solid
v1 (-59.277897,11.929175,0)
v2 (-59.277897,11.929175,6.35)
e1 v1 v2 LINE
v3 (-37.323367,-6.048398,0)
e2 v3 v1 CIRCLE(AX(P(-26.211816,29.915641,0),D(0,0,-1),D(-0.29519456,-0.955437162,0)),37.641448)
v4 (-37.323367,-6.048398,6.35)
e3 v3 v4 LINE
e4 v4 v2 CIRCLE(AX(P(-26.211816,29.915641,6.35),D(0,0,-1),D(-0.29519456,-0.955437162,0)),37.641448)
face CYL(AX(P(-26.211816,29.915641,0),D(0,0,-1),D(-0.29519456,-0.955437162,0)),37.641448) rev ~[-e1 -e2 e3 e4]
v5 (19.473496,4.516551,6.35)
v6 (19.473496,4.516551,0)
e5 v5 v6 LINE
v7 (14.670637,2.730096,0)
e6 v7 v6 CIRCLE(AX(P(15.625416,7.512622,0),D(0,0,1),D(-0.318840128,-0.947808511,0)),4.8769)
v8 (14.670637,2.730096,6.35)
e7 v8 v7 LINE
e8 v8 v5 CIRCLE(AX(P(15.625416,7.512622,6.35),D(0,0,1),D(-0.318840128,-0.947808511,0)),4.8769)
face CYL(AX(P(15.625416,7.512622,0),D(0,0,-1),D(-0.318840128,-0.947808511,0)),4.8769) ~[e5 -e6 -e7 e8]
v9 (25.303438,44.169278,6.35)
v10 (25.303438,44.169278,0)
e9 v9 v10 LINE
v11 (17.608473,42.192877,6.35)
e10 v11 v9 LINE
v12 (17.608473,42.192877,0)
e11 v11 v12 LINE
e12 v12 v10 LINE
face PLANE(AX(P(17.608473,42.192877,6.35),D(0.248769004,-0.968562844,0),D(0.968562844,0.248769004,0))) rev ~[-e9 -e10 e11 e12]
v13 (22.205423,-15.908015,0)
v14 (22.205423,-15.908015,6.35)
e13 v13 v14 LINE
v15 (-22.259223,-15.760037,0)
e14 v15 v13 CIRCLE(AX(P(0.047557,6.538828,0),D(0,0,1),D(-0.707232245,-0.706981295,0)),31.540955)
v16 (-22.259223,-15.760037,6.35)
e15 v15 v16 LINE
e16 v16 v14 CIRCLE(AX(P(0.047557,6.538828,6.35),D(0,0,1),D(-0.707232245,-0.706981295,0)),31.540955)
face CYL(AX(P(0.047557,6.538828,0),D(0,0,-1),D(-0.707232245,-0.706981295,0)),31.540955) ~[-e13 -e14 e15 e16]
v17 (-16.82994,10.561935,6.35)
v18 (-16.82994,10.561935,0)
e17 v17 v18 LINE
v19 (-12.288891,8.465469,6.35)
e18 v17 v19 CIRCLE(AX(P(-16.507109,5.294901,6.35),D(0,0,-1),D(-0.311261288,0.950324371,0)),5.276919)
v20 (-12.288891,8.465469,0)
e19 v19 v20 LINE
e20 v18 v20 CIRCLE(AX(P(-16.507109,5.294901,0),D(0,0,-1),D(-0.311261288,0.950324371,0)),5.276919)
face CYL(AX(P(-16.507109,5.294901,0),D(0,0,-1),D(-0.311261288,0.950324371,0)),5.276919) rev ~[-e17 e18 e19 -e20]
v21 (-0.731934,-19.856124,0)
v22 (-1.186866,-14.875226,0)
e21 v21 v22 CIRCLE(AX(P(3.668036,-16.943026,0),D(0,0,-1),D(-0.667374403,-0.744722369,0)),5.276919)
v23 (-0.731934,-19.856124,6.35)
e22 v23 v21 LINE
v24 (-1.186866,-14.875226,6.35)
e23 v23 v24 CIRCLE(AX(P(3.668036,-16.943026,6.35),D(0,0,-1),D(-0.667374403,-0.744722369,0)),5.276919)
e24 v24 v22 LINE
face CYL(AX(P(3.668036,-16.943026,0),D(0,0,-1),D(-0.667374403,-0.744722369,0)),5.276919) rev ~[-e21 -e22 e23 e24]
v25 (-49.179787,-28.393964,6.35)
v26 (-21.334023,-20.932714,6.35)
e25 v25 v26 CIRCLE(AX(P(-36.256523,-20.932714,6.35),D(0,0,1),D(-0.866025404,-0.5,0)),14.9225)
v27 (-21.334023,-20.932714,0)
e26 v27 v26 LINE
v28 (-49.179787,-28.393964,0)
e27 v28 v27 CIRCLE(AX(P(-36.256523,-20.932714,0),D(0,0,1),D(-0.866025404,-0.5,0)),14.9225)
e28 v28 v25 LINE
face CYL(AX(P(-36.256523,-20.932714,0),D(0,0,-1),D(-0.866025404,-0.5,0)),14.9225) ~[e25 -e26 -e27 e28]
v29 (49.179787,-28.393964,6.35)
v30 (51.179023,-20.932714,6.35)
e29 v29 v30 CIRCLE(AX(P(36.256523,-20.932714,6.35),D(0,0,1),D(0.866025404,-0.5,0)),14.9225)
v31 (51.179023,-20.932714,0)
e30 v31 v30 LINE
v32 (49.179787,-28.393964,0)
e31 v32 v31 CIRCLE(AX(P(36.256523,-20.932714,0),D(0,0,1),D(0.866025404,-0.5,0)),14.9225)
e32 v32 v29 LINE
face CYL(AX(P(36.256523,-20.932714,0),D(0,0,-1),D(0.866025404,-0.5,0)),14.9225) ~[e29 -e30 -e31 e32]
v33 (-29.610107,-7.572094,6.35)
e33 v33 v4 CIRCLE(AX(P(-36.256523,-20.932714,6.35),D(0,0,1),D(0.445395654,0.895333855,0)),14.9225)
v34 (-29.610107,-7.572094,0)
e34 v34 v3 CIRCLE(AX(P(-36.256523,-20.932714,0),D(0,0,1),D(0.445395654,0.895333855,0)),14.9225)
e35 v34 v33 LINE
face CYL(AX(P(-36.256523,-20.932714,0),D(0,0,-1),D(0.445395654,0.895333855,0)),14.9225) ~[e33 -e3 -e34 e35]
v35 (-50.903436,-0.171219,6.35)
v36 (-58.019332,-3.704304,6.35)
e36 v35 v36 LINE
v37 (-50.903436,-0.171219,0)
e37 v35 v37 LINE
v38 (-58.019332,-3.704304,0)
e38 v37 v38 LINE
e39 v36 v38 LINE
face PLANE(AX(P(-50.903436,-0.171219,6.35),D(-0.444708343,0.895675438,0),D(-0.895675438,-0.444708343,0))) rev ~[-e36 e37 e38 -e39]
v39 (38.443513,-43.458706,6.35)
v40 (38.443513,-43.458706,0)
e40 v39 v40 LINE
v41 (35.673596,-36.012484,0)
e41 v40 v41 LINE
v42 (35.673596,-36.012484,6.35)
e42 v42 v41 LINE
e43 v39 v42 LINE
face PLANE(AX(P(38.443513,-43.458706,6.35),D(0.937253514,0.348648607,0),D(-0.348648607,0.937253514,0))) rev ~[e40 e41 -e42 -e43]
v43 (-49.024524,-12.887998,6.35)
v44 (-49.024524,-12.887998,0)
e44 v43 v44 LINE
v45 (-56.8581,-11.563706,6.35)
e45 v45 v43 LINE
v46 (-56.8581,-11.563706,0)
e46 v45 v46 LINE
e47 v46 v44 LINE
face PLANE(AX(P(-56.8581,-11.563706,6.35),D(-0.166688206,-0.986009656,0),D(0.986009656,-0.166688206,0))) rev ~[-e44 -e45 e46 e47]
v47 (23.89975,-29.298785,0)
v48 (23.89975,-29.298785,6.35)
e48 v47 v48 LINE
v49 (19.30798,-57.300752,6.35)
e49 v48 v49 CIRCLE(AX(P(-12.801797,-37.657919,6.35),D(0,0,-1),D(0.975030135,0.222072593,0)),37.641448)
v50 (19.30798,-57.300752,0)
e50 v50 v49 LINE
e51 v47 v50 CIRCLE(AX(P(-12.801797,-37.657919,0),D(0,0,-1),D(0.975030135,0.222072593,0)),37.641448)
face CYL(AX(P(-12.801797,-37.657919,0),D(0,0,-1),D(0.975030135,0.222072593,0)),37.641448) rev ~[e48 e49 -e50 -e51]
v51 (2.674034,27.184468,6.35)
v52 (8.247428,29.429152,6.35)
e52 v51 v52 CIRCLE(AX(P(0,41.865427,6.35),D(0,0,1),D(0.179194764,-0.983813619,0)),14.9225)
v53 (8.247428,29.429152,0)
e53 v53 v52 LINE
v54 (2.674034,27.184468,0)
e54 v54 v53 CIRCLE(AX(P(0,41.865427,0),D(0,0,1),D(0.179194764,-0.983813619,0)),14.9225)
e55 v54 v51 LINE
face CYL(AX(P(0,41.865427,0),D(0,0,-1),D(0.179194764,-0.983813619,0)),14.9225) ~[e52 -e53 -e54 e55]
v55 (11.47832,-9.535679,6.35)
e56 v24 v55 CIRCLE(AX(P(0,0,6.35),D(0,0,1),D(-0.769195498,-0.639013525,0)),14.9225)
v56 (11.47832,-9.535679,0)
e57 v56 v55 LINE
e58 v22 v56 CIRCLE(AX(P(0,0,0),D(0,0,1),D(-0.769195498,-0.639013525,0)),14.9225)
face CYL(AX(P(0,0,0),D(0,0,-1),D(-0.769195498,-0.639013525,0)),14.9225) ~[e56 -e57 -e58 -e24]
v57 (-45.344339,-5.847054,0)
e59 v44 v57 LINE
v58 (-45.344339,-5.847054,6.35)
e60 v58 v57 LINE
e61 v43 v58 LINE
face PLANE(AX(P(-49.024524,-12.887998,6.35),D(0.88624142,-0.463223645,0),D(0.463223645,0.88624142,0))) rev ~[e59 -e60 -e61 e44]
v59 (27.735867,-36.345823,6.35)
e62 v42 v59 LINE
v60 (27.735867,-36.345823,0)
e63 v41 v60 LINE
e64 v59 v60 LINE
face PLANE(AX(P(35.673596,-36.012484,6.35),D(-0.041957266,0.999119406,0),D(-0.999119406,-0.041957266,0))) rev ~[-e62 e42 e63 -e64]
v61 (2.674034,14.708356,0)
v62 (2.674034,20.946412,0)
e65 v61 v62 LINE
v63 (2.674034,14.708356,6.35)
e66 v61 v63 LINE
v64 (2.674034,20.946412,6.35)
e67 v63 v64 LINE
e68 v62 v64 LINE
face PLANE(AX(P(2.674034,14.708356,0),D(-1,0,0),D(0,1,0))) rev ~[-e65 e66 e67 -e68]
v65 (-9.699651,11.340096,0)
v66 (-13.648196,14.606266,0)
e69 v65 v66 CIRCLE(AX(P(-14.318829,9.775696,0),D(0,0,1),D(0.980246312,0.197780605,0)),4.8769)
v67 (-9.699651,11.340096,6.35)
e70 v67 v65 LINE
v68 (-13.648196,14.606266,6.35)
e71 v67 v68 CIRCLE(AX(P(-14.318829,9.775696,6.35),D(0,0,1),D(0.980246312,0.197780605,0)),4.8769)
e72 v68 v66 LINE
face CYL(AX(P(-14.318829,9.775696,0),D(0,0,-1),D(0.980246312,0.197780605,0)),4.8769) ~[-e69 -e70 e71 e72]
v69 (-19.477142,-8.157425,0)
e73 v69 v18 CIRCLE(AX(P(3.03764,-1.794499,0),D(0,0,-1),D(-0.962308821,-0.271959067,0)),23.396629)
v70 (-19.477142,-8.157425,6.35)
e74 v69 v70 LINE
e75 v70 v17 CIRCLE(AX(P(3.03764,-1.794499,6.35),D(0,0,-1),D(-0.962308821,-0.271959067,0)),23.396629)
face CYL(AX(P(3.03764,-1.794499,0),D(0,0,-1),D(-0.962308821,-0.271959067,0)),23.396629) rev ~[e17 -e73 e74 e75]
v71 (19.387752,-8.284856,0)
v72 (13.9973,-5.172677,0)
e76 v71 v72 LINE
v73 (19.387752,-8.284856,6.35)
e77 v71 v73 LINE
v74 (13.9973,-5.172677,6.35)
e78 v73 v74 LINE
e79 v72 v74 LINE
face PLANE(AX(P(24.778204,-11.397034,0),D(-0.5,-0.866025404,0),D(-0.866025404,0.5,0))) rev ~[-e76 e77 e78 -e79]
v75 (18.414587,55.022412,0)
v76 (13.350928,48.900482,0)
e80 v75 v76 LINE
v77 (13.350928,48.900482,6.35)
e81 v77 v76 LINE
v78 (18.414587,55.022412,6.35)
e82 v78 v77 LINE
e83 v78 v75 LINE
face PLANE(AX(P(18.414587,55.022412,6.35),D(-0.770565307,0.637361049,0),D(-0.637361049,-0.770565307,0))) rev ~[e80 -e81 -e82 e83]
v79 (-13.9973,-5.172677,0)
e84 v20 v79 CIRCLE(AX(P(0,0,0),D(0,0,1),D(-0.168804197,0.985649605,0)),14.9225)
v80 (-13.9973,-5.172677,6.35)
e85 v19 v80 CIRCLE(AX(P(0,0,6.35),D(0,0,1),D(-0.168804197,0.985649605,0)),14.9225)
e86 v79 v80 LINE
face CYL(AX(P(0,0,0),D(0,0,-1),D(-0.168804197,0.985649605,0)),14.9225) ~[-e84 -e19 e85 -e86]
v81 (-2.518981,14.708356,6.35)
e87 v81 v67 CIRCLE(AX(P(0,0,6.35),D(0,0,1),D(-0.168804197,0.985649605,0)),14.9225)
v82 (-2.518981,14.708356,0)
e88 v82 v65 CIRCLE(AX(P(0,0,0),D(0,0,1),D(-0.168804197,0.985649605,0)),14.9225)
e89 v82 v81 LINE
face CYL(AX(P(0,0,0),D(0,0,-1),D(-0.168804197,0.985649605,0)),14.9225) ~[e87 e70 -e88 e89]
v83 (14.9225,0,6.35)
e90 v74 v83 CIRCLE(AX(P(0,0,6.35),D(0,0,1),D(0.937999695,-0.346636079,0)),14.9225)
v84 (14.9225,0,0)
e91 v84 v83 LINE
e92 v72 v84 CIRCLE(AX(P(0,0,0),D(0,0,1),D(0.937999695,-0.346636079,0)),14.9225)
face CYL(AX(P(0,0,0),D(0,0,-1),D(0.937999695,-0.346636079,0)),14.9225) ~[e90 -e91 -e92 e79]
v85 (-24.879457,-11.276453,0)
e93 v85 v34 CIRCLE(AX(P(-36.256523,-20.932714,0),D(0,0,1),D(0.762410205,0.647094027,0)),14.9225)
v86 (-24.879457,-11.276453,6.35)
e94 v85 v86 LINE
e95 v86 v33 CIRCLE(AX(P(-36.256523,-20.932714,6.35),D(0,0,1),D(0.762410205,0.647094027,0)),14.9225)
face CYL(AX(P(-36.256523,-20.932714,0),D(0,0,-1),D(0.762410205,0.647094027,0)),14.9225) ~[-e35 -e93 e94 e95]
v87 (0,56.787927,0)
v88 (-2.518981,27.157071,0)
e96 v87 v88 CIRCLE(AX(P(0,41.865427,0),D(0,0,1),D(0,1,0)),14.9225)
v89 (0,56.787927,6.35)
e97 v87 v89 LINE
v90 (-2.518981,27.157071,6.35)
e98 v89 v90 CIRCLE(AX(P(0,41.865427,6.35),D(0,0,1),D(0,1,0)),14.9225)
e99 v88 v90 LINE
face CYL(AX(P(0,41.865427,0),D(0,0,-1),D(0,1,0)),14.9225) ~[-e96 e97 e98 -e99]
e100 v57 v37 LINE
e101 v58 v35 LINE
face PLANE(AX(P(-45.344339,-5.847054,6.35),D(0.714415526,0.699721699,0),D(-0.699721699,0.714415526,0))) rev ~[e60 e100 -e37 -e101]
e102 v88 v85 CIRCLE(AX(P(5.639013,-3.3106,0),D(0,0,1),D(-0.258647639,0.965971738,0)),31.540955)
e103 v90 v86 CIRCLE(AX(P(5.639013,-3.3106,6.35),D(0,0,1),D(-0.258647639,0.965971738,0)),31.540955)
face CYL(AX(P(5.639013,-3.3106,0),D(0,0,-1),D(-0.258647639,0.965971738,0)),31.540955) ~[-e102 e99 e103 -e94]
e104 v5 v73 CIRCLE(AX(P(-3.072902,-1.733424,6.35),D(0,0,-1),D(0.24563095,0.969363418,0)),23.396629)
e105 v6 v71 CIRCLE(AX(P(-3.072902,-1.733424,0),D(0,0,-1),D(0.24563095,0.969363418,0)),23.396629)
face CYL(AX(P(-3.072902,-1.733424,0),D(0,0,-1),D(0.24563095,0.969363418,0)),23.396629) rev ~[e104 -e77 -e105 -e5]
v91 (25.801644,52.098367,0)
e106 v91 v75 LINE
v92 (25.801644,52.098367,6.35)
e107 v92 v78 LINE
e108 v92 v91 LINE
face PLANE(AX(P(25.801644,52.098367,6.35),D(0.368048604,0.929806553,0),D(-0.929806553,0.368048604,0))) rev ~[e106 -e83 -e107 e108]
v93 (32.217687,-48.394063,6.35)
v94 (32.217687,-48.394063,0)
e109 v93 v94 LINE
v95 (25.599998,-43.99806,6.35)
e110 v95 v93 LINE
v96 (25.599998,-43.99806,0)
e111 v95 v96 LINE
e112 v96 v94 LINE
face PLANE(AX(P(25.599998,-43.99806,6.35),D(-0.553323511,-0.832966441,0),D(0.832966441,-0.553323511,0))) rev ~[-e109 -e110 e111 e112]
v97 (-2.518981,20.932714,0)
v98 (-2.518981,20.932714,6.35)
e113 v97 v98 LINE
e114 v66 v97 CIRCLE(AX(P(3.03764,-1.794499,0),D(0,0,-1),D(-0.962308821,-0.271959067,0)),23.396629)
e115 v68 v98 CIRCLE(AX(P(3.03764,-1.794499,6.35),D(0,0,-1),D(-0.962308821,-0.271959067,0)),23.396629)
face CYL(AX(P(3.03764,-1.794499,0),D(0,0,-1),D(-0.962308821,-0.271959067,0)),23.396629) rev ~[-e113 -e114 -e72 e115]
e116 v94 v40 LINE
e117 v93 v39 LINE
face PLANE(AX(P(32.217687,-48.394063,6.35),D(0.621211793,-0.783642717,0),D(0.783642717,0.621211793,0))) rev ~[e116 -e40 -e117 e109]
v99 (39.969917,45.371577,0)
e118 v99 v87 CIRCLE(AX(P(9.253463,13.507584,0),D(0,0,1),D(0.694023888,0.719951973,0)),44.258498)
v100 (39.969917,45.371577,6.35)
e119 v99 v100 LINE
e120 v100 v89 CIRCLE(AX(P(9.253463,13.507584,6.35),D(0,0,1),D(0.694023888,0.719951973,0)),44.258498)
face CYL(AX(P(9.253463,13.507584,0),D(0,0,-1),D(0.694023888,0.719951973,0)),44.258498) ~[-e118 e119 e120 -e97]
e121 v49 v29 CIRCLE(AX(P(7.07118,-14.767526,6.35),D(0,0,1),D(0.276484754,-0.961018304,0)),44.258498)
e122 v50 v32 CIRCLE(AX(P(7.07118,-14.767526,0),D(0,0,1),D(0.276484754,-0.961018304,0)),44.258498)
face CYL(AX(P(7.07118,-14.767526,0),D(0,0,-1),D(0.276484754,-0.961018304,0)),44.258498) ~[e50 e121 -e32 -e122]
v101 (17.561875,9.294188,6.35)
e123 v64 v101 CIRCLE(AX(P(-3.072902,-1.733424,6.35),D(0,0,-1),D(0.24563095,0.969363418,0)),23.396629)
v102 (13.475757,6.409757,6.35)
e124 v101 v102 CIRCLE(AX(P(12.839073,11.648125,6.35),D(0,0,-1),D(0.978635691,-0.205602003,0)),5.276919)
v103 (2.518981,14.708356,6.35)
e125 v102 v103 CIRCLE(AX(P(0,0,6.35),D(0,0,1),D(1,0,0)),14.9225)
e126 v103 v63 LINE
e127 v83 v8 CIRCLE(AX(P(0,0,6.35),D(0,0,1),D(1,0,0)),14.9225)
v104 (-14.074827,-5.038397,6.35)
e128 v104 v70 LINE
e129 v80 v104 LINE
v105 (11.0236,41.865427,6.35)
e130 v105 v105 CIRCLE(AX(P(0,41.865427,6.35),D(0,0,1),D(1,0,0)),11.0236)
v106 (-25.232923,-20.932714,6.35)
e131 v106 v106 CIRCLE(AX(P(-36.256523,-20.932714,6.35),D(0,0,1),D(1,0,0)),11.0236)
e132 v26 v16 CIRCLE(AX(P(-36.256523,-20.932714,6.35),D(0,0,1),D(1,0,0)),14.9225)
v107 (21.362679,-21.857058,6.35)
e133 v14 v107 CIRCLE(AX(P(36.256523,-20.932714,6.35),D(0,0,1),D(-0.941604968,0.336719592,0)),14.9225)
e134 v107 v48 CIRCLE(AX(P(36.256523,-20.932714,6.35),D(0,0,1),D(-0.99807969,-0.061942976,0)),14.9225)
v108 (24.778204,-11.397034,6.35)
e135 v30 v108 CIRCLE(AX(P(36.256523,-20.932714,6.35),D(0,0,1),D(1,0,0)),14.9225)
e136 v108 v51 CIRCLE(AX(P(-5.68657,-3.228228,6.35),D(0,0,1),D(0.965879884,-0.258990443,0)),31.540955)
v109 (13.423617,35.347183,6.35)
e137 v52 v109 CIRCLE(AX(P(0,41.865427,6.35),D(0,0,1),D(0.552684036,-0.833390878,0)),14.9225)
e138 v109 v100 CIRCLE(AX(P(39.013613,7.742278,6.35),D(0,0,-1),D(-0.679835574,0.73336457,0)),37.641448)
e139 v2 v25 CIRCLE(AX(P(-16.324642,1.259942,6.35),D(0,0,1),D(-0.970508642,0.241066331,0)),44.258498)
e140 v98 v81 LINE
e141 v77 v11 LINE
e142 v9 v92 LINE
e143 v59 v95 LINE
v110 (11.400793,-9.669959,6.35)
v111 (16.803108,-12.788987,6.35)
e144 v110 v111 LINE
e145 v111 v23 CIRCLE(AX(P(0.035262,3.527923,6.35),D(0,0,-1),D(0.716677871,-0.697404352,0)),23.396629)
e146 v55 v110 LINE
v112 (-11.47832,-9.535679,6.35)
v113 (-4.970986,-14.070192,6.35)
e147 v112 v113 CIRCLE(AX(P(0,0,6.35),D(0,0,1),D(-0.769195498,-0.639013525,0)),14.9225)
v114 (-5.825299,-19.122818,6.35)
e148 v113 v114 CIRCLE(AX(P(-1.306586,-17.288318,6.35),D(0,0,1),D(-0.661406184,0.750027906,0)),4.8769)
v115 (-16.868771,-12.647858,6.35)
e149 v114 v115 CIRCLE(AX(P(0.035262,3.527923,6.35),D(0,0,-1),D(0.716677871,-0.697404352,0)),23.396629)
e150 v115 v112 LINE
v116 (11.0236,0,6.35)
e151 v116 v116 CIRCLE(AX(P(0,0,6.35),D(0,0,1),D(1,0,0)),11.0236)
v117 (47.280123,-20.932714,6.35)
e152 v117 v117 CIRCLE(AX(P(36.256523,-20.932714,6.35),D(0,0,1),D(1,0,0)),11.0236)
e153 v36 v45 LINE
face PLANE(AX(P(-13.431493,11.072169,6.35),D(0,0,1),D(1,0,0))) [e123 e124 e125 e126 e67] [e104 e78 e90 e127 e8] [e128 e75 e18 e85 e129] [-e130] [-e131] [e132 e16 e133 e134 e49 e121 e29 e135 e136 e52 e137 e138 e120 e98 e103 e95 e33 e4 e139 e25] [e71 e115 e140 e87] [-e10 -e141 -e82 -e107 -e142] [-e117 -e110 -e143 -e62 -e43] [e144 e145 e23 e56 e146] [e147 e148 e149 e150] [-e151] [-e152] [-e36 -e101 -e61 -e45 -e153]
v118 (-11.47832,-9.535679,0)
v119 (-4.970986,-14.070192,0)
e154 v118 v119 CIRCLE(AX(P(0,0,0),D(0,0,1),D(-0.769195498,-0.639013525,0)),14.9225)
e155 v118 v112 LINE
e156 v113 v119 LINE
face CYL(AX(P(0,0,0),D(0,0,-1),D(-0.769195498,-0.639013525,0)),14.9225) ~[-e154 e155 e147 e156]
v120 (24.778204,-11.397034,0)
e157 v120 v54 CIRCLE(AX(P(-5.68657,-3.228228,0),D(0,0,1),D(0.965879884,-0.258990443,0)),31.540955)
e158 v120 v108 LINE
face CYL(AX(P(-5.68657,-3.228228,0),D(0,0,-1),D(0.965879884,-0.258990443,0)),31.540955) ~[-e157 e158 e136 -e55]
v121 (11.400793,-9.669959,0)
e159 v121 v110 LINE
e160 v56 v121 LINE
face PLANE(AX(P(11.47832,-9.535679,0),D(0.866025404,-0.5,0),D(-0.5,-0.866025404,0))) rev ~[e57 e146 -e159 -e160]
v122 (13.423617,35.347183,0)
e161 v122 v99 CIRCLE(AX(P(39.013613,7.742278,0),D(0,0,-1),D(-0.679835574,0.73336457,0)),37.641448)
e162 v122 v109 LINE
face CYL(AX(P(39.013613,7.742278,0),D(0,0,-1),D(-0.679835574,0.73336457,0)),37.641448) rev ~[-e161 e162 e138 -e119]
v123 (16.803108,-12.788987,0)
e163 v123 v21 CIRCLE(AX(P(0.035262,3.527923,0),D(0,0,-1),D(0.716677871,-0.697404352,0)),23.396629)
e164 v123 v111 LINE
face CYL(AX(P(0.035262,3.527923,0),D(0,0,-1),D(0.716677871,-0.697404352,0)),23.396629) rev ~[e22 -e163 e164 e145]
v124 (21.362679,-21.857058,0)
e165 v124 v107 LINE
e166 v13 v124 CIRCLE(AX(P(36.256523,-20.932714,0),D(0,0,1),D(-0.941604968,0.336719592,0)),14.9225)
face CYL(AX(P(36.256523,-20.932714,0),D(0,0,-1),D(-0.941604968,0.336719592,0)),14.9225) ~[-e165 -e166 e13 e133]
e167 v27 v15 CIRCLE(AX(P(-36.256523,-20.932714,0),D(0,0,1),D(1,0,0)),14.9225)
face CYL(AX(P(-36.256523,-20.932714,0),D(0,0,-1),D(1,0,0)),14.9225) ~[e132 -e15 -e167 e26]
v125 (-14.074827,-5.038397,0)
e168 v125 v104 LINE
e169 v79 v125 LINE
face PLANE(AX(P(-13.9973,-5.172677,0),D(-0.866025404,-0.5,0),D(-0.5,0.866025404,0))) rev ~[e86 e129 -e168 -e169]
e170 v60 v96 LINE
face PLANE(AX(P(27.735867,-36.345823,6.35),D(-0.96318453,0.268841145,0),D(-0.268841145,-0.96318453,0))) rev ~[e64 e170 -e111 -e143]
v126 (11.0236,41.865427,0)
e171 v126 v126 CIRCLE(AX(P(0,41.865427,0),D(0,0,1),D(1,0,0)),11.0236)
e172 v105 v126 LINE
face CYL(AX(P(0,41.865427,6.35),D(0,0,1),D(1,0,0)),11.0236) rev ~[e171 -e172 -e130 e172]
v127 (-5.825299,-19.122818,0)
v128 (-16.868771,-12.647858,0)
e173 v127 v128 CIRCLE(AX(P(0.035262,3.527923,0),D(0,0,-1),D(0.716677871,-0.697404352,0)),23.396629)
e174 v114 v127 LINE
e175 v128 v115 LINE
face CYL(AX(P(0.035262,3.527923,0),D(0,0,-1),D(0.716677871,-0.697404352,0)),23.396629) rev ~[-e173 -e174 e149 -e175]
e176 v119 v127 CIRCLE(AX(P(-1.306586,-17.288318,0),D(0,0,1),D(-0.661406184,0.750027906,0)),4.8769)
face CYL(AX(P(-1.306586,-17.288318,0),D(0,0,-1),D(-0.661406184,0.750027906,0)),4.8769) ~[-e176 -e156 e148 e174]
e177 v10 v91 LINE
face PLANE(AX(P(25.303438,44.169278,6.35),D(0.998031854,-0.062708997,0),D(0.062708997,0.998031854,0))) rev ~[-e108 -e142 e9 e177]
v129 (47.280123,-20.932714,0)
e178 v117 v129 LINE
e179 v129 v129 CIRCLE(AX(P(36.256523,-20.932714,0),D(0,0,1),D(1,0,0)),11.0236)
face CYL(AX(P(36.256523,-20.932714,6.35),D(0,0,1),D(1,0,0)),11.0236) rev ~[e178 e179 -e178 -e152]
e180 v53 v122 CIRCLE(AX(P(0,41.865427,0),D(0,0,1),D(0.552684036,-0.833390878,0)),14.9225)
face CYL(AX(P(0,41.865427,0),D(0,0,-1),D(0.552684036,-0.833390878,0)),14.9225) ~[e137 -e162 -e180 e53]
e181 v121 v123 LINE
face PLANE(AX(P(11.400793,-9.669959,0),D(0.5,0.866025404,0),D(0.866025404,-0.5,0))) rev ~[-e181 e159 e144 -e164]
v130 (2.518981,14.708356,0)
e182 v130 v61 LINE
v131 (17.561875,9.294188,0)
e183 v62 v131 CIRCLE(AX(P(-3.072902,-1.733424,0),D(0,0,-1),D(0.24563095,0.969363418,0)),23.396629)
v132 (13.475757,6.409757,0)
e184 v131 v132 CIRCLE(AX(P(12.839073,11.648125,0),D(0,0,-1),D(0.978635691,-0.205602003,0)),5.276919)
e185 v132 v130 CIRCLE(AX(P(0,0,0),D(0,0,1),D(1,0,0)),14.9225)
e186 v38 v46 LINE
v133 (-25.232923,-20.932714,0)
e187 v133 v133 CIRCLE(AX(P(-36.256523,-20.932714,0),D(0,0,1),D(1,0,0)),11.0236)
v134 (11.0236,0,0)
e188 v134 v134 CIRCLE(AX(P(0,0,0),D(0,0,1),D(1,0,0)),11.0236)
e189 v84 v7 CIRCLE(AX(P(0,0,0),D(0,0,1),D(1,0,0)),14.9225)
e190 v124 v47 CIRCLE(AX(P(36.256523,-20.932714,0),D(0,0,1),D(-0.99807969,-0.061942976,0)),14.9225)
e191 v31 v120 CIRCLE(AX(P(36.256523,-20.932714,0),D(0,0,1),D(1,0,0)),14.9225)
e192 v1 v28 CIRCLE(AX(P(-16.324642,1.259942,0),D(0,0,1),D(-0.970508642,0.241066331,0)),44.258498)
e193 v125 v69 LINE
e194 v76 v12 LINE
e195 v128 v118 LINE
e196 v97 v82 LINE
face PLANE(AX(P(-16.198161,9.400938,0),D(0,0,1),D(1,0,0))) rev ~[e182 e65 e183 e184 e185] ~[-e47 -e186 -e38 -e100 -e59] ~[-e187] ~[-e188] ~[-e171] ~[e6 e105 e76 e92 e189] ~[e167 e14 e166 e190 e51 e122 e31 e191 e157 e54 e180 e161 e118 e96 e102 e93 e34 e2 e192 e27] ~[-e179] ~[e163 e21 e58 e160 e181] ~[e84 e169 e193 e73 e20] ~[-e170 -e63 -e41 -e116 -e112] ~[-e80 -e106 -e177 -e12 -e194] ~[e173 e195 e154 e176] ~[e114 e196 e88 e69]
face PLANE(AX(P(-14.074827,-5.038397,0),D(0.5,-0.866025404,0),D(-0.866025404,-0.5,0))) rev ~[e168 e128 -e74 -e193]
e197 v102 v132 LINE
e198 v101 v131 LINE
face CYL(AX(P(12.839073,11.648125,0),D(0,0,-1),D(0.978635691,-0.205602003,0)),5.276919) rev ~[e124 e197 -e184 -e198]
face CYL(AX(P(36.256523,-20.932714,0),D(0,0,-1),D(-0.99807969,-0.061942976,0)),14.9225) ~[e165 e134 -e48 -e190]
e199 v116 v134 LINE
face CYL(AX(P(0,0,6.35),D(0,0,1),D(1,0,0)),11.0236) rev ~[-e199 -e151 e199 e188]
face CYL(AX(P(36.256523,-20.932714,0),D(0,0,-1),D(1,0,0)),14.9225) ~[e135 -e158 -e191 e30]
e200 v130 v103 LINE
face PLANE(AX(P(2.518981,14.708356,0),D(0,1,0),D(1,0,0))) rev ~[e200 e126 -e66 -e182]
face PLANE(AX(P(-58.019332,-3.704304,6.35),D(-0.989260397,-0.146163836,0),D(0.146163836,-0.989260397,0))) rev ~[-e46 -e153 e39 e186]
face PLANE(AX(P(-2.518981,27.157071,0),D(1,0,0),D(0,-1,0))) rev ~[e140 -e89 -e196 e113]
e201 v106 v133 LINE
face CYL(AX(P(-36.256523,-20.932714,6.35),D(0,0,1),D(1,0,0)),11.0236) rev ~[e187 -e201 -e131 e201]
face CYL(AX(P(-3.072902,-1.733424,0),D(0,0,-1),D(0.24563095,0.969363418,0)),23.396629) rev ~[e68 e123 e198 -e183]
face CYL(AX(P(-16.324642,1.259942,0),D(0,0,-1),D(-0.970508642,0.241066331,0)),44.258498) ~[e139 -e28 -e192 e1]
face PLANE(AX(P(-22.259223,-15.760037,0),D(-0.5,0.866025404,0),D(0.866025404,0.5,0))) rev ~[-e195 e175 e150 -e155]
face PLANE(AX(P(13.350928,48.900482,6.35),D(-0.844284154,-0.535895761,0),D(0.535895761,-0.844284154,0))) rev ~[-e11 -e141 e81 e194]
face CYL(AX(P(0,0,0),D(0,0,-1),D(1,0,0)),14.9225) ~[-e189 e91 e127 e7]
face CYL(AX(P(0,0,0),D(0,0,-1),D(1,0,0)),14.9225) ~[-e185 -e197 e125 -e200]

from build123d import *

# Parameters (mm, degrees)
F1_DEPTH  = 6.35
F2_R      = 11.0236
F3_DEPTH  = 25.4
F4_R      = 11.0236
F5_DEPTH  = 25.4
F7_DEPTH  = 6.35
F9_DEPTH  = 6.35
F11_DEPTH = 25.4


with BuildPart() as f1:
    # F0 (on Top) → F1 (new body)
    with BuildSketch(Plane.XY):
        with BuildLine():
            ThreePointArc((39.9699173868, 45.3715771437), (21.4086371945, 56.0642096985), (0, 56.787927047))
            ThreePointArc((0, 56.787927047), (10.5518009423, 52.4172279893), (14.9225, 41.865427047))
            ThreePointArc((14.9225, 41.865427047), (14.5429525108, 38.5212472494), (13.4236173036, 35.3471830552))
            ThreePointArc((13.4236173036, 35.3471830552), (25.7159889241, 42.956648129), (39.9699173868, 45.3715771437))
        make_face()
        with BuildLine():
            Line((11.4783198204, -9.5356793335), (13.9973004553, -5.1726768904))
            ThreePointArc((13.9973004553, -5.1726768904), (14.6893791954, -2.6273836992), (14.9225, 0))
            ThreePointArc((14.9225, 0), (11.4076836995, 9.6200706267), (2.518980635, 14.7083562239))
            Line((2.518980635, 14.7083562239), (-2.518980635, 14.7083562239))
            ThreePointArc((-2.518980635, 14.7083562239), (-12.923264088, 7.46125), (-13.9973004553, -5.1726768904))
            Line((-13.9973004553, -5.1726768904), (-11.4783198204, -9.5356793335))
            ThreePointArc((-11.4783198204, -9.5356793335), (0, -14.9225), (11.4783198204, -9.5356793335))
        make_face()
        with BuildLine():
            ThreePointArc((-59.2778971096, 11.9291752723), (-59.2573484392, -9.4916811784), (-49.179787451, -28.3939635235))
            ThreePointArc((-49.179787451, -28.3939635235), (-49.4383993618, -13.9384908074), (-37.3233671298, -6.048397932))
            ThreePointArc((-37.3233671298, -6.048397932), (-50.0595430032, 0.7923756272), (-59.2778971096, 11.9291752723))
        make_face()
        with BuildLine():
            Line((24.7782035426, -11.39703419), (13.9973004553, -5.1726768904))
            ThreePointArc((13.9973004553, -5.1726768904), (12.923264088, -7.46125), (11.4783198204, -9.5356793335))
            Line((11.4783198204, -9.5356793335), (11.4007932052, -9.6699593699))
            Line((11.4007932052, -9.6699593699), (22.205423221, -15.9080154181))
            ThreePointArc((22.205423221, -15.9080154181), (23.2940753375, -13.5397474451), (24.7782035426, -11.39703419))
        make_face()
        with BuildLine():
            ThreePointArc((-2.518980635, 14.7083562239), (0, 14.9225), (2.518980635, 14.7083562239))
            Line((2.518980635, 14.7083562239), (2.6740338653, 14.7083562239))
            Line((2.6740338653, 14.7083562239), (2.6740338653, 27.1844683202))
            ThreePointArc((2.6740338653, 27.1844683202), (0.0787275795, 26.9431347225), (-2.518980635, 27.1570708231))
            Line((-2.518980635, 27.1570708231), (-2.518980635, 14.7083562239))
        make_face()
        with BuildLine():
            Line((-22.2592229077, -15.7600366331), (-11.4783198204, -9.5356793335))
            ThreePointArc((-11.4783198204, -9.5356793335), (-12.923264088, -7.46125), (-13.9973004553, -5.1726768904))
            Line((-13.9973004553, -5.1726768904), (-14.0748270705, -5.038396854))
            Line((-14.0748270705, -5.038396854), (-24.8794570864, -11.2764529022))
            ThreePointArc((-24.8794570864, -11.2764529022), (-23.372802917, -13.4033872774), (-22.2592229077, -15.7600366331))
        make_face()
        with BuildLine():
            ThreePointArc((0, 56.787927047), (-14.8688676772, 43.1294603729), (-2.518980635, 27.1570708231))
            Line((-2.518980635, 27.1570708231), (-2.518980635, 27.4083562239))
            Line((-2.518980635, 27.4083562239), (2.6740338653, 27.4083562239))
            Line((2.6740338653, 27.4083562239), (2.6740338653, 27.1844683202))
            ThreePointArc((2.6740338653, 27.1844683202), (5.574874939, 28.0233977281), (8.2474275307, 29.429151665))
            ThreePointArc((8.2474275307, 29.429151665), (10.6805834625, 32.5236842879), (13.4236173036, 35.3471830552))
            ThreePointArc((13.4236173036, 35.3471830552), (14.5429525108, 38.5212472494), (14.9225, 41.865427047))
            ThreePointArc((14.9225, 41.865427047), (10.5518009423, 52.4172279893), (0, 56.787927047))
        make_face()
        with BuildLine():
            ThreePointArc((19.3079797228, -57.3007524159), (37.8487112447, -46.5725285201), (49.179787451, -28.3939635235))
            ThreePointArc((49.179787451, -28.3939635235), (36.7902868106, -35.845664366), (23.8997498262, -29.2987851232))
            ThreePointArc((23.8997498262, -29.2987851232), (24.3435540791, -43.7490237562), (19.3079797228, -57.3007524159))
        make_face()
        with BuildLine():
            ThreePointArc((-21.334023363, -20.9327135235), (-21.5671441676, -18.3053298244), (-22.2592229077, -15.7600366331))
            Line((-22.2592229077, -15.7600366331), (-22.4768424484, -15.8856793335))
            Line((-22.4768424484, -15.8856793335), (-25.0733496986, -11.388396854))
            Line((-25.0733496986, -11.388396854), (-24.8794570864, -11.2764529022))
            ThreePointArc((-24.8794570864, -11.2764529022), (-27.0564118024, -9.183715544), (-29.6101067191, -7.5720940751))
            ThreePointArc((-29.6101067191, -7.5720940751), (-33.5066285492, -7.0121855382), (-37.3233671298, -6.048397932))
            ThreePointArc((-37.3233671298, -6.048397932), (-49.4383993618, -13.9384908074), (-49.179787451, -28.3939635235))
            ThreePointArc((-49.179787451, -28.3939635235), (-32.3942961625, -35.3467416663), (-21.334023363, -20.9327135235))
        make_face()
        with BuildLine():
            ThreePointArc((51.179023363, -20.9327135235), (41.3258319318, -6.8976461249), (24.7782035426, -11.39703419))
            Line((24.7782035426, -11.39703419), (24.9958230834, -11.5226768904))
            Line((24.9958230834, -11.5226768904), (22.3993158332, -16.0199593699))
            Line((22.3993158332, -16.0199593699), (22.205423221, -15.9080154181))
            ThreePointArc((22.205423221, -15.9080154181), (21.4815368634, -18.8396821842), (21.3626791884, -21.8570575899))
            ThreePointArc((21.3626791884, -21.8570575899), (22.8260450868, -25.5114987497), (23.8997498262, -29.2987851232))
            ThreePointArc((23.8997498262, -29.2987851232), (36.7902868106, -35.845664366), (49.179787451, -28.3939635235))
            ThreePointArc((49.179787451, -28.3939635235), (50.6705515058, -24.794940724), (51.179023363, -20.9327135235))
        make_face()
        with BuildLine():
            ThreePointArc((13.4236173036, 35.3471830552), (10.6805834625, 32.5236842879), (8.2474275307, 29.429151665))
            ThreePointArc((8.2474275307, 29.429151665), (11.2322891672, 32.0411364205), (13.4236173036, 35.3471830552))
        make_face()
        with BuildLine():
            ThreePointArc((-37.3233671298, -6.048397932), (-33.5066285492, -7.0121855382), (-29.6101067191, -7.5720940751))
            ThreePointArc((-29.6101067191, -7.5720940751), (-33.3645826899, -6.2931204488), (-37.3233671298, -6.048397932))
        make_face()
        with BuildLine():
            ThreePointArc((23.8997498262, -29.2987851232), (22.8260450868, -25.5114987497), (21.3626791884, -21.8570575899))
            ThreePointArc((21.3626791884, -21.8570575899), (22.1322935227, -25.7480159717), (23.8997498262, -29.2987851232))
        make_face()
        with BuildLine():
            Line((24.9958230834, -11.5226768904), (24.7782035426, -11.39703419))
            ThreePointArc((24.7782035426, -11.39703419), (23.2940753375, -13.5397474451), (22.205423221, -15.9080154181))
            Line((22.205423221, -15.9080154181), (22.3993158332, -16.0199593699))
            Line((22.3993158332, -16.0199593699), (24.9958230834, -11.5226768904))
        make_face()
        with BuildLine():
            Line((-22.4768424484, -15.8856793335), (-22.2592229077, -15.7600366331))
            ThreePointArc((-22.2592229077, -15.7600366331), (-23.372802917, -13.4033872774), (-24.8794570864, -11.2764529022))
            Line((-24.8794570864, -11.2764529022), (-25.0733496986, -11.388396854))
            Line((-25.0733496986, -11.388396854), (-22.4768424484, -15.8856793335))
        make_face()
        with BuildLine():
            Line((-2.518980635, 14.7083562239), (2.518980635, 14.7083562239))
            ThreePointArc((2.518980635, 14.7083562239), (0, 14.9225), (-2.518980635, 14.7083562239))
        make_face()
        with BuildLine():
            ThreePointArc((-13.9973004553, -5.1726768904), (-12.923264088, -7.46125), (-11.4783198204, -9.5356793335))
            Line((-11.4783198204, -9.5356793335), (-13.9973004553, -5.1726768904))
        make_face()
        with BuildLine():
            Line((-2.518980635, 27.4083562239), (-2.518980635, 27.1570708231))
            ThreePointArc((-2.518980635, 27.1570708231), (0.0787275795, 26.9431347225), (2.6740338653, 27.1844683202))
            Line((2.6740338653, 27.1844683202), (2.6740338653, 27.4083562239))
            Line((2.6740338653, 27.4083562239), (-2.518980635, 27.4083562239))
        make_face()
        with BuildLine():
            ThreePointArc((11.4783198204, -9.5356793335), (12.923264088, -7.46125), (13.9973004553, -5.1726768904))
            Line((13.9973004553, -5.1726768904), (11.4783198204, -9.5356793335))
        make_face()
    extrude(amount=F1_DEPTH)

    # F2 (on face) → F3 (cut)
    with BuildSketch(Plane.XY.offset(6.35)):
        with Locations((0, 41.865427047)):
            Circle(F2_R)
        with Locations((36.256523363, -20.9327135235)):
            Circle(F2_R)
        with Locations((-36.256523363, -20.9327135235)):
            Circle(F2_R)
    extrude(amount=-F3_DEPTH, mode=Mode.SUBTRACT)

    # F4 (on face) → F5 (cut)
    with BuildSketch(Plane.XY.offset(6.35)):
        Circle(F4_R)
    extrude(amount=-F5_DEPTH, mode=Mode.SUBTRACT)

    # F6 (on Top) → F7 (join)
    with BuildSketch(Plane.XY):
        with BuildLine():
            Line((-2.518980635, 20.9327135235), (-2.518980635, 27.1570708231))
            ThreePointArc((-2.518980635, 27.1570708231), (-21.6236198706, 12.5506950245), (-24.8794570864, -11.2764529022))
            Line((-24.8794570864, -11.2764529022), (-19.4771420784, -8.1574248781))
            ThreePointArc((-19.4771420784, -8.1574248781), (-17.1752258506, 9.9886362226), (-2.518980635, 20.9327135235))
        make_face()
        with BuildLine():
            ThreePointArc((2.6740338653, 20.9464122721), (17.2380256432, 9.8798637911), (19.387751999, -8.2848555402))
            Line((19.387751999, -8.2848555402), (24.7782035426, -11.39703419))
            ThreePointArc((24.7782035426, -11.39703419), (21.6810306616, 12.4512566175), (2.6740338653, 27.1844683202))
            Line((2.6740338653, 27.1844683202), (2.6740338653, 20.9464122721))
        make_face()
        with BuildLine():
            ThreePointArc((16.8031082131, -12.788987394), (-0.0627997926, -19.8685000137), (-16.868771364, -12.6478579833))
            Line((-16.868771364, -12.6478579833), (-22.2592229077, -15.7600366331))
            ThreePointArc((-22.2592229077, -15.7600366331), (-0.057410791, -25.0019516419), (22.205423221, -15.9080154181))
            Line((22.205423221, -15.9080154181), (16.8031082131, -12.788987394))
        make_face()
    extrude(amount=F7_DEPTH)

    # F8 (on Top) → F9 (join)
    with BuildSketch(Plane.XY):
        with BuildLine():
            Line((-11.469233202, 6.8651486084), (-9.5382659064, 10.7402523643))
            ThreePointArc((-9.5382659064, 10.7402523643), (-11.469233202, 13.7334678675), (-14.9203554134, 14.6153574454))
            Line((-14.9203554134, 14.6153574454), (-18.1496096475, 10.3096855748))
            ThreePointArc((-18.1496096475, 10.3096855748), (-14.0887724556, 9.9850523749), (-11.469233202, 6.8651486084))
        make_face()
        with BuildLine():
            Line((11.6800096966, 6.5000730107), (14.0704643438, 2.8902544008))
            ThreePointArc((14.0704643438, 2.8902544008), (17.6281486563, 3.0659133811), (20.1174485398, 5.6137280988))
            Line((20.1174485398, 5.6137280988), (18.0032544366, 10.5631802361))
            ThreePointArc((18.0032544366, 10.5631802361), (15.6916952426, 7.2087086672), (11.6800096966, 6.5000730107))
        make_face()
        with BuildLine():
            Line((-0.2107764946, -13.3652216191), (-4.5321984374, -13.6305067652))
            ThreePointArc((-4.5321984374, -13.6305067652), (-6.1589154543, -16.7993812486), (-5.1970931264, -20.2290855441))
            Line((-5.1970931264, -20.2290855441), (0.146355211, -20.8728658109))
            ThreePointArc((0.146355211, -20.8728658109), (-1.602922787, -17.1937610422), (-0.2107764946, -13.3652216191))
        make_face()
    extrude(amount=F9_DEPTH)

    # F10 (on face) → F11 (cut)
    with BuildSketch(Plane.XY.offset(6.35)):
        Polygon((-45.3443394157, -5.8470536995), (-50.9034361544, -0.1712185392), (-58.0193315347, -3.7043041955), (-56.8581000013, -11.5637063766), (-49.0245240646, -12.8879983994), align=None)
        Polygon((27.7358667489, -36.3458230021), (25.5999976818, -43.9980595801), (32.217687304, -48.3940629219), (38.4435134847, -43.4587058238), (35.6735960501, -36.0124840487), align=None)
        Polygon((13.3509280145, 48.9004824481), (17.6084726668, 42.1928767016), (25.3034384727, 44.1692781193), (25.8016442307, 52.0983671174), (18.4145865166, 55.0224122004), align=None)
    extrude(amount=-F11_DEPTH, mode=Mode.SUBTRACT)


solid = f1.part
